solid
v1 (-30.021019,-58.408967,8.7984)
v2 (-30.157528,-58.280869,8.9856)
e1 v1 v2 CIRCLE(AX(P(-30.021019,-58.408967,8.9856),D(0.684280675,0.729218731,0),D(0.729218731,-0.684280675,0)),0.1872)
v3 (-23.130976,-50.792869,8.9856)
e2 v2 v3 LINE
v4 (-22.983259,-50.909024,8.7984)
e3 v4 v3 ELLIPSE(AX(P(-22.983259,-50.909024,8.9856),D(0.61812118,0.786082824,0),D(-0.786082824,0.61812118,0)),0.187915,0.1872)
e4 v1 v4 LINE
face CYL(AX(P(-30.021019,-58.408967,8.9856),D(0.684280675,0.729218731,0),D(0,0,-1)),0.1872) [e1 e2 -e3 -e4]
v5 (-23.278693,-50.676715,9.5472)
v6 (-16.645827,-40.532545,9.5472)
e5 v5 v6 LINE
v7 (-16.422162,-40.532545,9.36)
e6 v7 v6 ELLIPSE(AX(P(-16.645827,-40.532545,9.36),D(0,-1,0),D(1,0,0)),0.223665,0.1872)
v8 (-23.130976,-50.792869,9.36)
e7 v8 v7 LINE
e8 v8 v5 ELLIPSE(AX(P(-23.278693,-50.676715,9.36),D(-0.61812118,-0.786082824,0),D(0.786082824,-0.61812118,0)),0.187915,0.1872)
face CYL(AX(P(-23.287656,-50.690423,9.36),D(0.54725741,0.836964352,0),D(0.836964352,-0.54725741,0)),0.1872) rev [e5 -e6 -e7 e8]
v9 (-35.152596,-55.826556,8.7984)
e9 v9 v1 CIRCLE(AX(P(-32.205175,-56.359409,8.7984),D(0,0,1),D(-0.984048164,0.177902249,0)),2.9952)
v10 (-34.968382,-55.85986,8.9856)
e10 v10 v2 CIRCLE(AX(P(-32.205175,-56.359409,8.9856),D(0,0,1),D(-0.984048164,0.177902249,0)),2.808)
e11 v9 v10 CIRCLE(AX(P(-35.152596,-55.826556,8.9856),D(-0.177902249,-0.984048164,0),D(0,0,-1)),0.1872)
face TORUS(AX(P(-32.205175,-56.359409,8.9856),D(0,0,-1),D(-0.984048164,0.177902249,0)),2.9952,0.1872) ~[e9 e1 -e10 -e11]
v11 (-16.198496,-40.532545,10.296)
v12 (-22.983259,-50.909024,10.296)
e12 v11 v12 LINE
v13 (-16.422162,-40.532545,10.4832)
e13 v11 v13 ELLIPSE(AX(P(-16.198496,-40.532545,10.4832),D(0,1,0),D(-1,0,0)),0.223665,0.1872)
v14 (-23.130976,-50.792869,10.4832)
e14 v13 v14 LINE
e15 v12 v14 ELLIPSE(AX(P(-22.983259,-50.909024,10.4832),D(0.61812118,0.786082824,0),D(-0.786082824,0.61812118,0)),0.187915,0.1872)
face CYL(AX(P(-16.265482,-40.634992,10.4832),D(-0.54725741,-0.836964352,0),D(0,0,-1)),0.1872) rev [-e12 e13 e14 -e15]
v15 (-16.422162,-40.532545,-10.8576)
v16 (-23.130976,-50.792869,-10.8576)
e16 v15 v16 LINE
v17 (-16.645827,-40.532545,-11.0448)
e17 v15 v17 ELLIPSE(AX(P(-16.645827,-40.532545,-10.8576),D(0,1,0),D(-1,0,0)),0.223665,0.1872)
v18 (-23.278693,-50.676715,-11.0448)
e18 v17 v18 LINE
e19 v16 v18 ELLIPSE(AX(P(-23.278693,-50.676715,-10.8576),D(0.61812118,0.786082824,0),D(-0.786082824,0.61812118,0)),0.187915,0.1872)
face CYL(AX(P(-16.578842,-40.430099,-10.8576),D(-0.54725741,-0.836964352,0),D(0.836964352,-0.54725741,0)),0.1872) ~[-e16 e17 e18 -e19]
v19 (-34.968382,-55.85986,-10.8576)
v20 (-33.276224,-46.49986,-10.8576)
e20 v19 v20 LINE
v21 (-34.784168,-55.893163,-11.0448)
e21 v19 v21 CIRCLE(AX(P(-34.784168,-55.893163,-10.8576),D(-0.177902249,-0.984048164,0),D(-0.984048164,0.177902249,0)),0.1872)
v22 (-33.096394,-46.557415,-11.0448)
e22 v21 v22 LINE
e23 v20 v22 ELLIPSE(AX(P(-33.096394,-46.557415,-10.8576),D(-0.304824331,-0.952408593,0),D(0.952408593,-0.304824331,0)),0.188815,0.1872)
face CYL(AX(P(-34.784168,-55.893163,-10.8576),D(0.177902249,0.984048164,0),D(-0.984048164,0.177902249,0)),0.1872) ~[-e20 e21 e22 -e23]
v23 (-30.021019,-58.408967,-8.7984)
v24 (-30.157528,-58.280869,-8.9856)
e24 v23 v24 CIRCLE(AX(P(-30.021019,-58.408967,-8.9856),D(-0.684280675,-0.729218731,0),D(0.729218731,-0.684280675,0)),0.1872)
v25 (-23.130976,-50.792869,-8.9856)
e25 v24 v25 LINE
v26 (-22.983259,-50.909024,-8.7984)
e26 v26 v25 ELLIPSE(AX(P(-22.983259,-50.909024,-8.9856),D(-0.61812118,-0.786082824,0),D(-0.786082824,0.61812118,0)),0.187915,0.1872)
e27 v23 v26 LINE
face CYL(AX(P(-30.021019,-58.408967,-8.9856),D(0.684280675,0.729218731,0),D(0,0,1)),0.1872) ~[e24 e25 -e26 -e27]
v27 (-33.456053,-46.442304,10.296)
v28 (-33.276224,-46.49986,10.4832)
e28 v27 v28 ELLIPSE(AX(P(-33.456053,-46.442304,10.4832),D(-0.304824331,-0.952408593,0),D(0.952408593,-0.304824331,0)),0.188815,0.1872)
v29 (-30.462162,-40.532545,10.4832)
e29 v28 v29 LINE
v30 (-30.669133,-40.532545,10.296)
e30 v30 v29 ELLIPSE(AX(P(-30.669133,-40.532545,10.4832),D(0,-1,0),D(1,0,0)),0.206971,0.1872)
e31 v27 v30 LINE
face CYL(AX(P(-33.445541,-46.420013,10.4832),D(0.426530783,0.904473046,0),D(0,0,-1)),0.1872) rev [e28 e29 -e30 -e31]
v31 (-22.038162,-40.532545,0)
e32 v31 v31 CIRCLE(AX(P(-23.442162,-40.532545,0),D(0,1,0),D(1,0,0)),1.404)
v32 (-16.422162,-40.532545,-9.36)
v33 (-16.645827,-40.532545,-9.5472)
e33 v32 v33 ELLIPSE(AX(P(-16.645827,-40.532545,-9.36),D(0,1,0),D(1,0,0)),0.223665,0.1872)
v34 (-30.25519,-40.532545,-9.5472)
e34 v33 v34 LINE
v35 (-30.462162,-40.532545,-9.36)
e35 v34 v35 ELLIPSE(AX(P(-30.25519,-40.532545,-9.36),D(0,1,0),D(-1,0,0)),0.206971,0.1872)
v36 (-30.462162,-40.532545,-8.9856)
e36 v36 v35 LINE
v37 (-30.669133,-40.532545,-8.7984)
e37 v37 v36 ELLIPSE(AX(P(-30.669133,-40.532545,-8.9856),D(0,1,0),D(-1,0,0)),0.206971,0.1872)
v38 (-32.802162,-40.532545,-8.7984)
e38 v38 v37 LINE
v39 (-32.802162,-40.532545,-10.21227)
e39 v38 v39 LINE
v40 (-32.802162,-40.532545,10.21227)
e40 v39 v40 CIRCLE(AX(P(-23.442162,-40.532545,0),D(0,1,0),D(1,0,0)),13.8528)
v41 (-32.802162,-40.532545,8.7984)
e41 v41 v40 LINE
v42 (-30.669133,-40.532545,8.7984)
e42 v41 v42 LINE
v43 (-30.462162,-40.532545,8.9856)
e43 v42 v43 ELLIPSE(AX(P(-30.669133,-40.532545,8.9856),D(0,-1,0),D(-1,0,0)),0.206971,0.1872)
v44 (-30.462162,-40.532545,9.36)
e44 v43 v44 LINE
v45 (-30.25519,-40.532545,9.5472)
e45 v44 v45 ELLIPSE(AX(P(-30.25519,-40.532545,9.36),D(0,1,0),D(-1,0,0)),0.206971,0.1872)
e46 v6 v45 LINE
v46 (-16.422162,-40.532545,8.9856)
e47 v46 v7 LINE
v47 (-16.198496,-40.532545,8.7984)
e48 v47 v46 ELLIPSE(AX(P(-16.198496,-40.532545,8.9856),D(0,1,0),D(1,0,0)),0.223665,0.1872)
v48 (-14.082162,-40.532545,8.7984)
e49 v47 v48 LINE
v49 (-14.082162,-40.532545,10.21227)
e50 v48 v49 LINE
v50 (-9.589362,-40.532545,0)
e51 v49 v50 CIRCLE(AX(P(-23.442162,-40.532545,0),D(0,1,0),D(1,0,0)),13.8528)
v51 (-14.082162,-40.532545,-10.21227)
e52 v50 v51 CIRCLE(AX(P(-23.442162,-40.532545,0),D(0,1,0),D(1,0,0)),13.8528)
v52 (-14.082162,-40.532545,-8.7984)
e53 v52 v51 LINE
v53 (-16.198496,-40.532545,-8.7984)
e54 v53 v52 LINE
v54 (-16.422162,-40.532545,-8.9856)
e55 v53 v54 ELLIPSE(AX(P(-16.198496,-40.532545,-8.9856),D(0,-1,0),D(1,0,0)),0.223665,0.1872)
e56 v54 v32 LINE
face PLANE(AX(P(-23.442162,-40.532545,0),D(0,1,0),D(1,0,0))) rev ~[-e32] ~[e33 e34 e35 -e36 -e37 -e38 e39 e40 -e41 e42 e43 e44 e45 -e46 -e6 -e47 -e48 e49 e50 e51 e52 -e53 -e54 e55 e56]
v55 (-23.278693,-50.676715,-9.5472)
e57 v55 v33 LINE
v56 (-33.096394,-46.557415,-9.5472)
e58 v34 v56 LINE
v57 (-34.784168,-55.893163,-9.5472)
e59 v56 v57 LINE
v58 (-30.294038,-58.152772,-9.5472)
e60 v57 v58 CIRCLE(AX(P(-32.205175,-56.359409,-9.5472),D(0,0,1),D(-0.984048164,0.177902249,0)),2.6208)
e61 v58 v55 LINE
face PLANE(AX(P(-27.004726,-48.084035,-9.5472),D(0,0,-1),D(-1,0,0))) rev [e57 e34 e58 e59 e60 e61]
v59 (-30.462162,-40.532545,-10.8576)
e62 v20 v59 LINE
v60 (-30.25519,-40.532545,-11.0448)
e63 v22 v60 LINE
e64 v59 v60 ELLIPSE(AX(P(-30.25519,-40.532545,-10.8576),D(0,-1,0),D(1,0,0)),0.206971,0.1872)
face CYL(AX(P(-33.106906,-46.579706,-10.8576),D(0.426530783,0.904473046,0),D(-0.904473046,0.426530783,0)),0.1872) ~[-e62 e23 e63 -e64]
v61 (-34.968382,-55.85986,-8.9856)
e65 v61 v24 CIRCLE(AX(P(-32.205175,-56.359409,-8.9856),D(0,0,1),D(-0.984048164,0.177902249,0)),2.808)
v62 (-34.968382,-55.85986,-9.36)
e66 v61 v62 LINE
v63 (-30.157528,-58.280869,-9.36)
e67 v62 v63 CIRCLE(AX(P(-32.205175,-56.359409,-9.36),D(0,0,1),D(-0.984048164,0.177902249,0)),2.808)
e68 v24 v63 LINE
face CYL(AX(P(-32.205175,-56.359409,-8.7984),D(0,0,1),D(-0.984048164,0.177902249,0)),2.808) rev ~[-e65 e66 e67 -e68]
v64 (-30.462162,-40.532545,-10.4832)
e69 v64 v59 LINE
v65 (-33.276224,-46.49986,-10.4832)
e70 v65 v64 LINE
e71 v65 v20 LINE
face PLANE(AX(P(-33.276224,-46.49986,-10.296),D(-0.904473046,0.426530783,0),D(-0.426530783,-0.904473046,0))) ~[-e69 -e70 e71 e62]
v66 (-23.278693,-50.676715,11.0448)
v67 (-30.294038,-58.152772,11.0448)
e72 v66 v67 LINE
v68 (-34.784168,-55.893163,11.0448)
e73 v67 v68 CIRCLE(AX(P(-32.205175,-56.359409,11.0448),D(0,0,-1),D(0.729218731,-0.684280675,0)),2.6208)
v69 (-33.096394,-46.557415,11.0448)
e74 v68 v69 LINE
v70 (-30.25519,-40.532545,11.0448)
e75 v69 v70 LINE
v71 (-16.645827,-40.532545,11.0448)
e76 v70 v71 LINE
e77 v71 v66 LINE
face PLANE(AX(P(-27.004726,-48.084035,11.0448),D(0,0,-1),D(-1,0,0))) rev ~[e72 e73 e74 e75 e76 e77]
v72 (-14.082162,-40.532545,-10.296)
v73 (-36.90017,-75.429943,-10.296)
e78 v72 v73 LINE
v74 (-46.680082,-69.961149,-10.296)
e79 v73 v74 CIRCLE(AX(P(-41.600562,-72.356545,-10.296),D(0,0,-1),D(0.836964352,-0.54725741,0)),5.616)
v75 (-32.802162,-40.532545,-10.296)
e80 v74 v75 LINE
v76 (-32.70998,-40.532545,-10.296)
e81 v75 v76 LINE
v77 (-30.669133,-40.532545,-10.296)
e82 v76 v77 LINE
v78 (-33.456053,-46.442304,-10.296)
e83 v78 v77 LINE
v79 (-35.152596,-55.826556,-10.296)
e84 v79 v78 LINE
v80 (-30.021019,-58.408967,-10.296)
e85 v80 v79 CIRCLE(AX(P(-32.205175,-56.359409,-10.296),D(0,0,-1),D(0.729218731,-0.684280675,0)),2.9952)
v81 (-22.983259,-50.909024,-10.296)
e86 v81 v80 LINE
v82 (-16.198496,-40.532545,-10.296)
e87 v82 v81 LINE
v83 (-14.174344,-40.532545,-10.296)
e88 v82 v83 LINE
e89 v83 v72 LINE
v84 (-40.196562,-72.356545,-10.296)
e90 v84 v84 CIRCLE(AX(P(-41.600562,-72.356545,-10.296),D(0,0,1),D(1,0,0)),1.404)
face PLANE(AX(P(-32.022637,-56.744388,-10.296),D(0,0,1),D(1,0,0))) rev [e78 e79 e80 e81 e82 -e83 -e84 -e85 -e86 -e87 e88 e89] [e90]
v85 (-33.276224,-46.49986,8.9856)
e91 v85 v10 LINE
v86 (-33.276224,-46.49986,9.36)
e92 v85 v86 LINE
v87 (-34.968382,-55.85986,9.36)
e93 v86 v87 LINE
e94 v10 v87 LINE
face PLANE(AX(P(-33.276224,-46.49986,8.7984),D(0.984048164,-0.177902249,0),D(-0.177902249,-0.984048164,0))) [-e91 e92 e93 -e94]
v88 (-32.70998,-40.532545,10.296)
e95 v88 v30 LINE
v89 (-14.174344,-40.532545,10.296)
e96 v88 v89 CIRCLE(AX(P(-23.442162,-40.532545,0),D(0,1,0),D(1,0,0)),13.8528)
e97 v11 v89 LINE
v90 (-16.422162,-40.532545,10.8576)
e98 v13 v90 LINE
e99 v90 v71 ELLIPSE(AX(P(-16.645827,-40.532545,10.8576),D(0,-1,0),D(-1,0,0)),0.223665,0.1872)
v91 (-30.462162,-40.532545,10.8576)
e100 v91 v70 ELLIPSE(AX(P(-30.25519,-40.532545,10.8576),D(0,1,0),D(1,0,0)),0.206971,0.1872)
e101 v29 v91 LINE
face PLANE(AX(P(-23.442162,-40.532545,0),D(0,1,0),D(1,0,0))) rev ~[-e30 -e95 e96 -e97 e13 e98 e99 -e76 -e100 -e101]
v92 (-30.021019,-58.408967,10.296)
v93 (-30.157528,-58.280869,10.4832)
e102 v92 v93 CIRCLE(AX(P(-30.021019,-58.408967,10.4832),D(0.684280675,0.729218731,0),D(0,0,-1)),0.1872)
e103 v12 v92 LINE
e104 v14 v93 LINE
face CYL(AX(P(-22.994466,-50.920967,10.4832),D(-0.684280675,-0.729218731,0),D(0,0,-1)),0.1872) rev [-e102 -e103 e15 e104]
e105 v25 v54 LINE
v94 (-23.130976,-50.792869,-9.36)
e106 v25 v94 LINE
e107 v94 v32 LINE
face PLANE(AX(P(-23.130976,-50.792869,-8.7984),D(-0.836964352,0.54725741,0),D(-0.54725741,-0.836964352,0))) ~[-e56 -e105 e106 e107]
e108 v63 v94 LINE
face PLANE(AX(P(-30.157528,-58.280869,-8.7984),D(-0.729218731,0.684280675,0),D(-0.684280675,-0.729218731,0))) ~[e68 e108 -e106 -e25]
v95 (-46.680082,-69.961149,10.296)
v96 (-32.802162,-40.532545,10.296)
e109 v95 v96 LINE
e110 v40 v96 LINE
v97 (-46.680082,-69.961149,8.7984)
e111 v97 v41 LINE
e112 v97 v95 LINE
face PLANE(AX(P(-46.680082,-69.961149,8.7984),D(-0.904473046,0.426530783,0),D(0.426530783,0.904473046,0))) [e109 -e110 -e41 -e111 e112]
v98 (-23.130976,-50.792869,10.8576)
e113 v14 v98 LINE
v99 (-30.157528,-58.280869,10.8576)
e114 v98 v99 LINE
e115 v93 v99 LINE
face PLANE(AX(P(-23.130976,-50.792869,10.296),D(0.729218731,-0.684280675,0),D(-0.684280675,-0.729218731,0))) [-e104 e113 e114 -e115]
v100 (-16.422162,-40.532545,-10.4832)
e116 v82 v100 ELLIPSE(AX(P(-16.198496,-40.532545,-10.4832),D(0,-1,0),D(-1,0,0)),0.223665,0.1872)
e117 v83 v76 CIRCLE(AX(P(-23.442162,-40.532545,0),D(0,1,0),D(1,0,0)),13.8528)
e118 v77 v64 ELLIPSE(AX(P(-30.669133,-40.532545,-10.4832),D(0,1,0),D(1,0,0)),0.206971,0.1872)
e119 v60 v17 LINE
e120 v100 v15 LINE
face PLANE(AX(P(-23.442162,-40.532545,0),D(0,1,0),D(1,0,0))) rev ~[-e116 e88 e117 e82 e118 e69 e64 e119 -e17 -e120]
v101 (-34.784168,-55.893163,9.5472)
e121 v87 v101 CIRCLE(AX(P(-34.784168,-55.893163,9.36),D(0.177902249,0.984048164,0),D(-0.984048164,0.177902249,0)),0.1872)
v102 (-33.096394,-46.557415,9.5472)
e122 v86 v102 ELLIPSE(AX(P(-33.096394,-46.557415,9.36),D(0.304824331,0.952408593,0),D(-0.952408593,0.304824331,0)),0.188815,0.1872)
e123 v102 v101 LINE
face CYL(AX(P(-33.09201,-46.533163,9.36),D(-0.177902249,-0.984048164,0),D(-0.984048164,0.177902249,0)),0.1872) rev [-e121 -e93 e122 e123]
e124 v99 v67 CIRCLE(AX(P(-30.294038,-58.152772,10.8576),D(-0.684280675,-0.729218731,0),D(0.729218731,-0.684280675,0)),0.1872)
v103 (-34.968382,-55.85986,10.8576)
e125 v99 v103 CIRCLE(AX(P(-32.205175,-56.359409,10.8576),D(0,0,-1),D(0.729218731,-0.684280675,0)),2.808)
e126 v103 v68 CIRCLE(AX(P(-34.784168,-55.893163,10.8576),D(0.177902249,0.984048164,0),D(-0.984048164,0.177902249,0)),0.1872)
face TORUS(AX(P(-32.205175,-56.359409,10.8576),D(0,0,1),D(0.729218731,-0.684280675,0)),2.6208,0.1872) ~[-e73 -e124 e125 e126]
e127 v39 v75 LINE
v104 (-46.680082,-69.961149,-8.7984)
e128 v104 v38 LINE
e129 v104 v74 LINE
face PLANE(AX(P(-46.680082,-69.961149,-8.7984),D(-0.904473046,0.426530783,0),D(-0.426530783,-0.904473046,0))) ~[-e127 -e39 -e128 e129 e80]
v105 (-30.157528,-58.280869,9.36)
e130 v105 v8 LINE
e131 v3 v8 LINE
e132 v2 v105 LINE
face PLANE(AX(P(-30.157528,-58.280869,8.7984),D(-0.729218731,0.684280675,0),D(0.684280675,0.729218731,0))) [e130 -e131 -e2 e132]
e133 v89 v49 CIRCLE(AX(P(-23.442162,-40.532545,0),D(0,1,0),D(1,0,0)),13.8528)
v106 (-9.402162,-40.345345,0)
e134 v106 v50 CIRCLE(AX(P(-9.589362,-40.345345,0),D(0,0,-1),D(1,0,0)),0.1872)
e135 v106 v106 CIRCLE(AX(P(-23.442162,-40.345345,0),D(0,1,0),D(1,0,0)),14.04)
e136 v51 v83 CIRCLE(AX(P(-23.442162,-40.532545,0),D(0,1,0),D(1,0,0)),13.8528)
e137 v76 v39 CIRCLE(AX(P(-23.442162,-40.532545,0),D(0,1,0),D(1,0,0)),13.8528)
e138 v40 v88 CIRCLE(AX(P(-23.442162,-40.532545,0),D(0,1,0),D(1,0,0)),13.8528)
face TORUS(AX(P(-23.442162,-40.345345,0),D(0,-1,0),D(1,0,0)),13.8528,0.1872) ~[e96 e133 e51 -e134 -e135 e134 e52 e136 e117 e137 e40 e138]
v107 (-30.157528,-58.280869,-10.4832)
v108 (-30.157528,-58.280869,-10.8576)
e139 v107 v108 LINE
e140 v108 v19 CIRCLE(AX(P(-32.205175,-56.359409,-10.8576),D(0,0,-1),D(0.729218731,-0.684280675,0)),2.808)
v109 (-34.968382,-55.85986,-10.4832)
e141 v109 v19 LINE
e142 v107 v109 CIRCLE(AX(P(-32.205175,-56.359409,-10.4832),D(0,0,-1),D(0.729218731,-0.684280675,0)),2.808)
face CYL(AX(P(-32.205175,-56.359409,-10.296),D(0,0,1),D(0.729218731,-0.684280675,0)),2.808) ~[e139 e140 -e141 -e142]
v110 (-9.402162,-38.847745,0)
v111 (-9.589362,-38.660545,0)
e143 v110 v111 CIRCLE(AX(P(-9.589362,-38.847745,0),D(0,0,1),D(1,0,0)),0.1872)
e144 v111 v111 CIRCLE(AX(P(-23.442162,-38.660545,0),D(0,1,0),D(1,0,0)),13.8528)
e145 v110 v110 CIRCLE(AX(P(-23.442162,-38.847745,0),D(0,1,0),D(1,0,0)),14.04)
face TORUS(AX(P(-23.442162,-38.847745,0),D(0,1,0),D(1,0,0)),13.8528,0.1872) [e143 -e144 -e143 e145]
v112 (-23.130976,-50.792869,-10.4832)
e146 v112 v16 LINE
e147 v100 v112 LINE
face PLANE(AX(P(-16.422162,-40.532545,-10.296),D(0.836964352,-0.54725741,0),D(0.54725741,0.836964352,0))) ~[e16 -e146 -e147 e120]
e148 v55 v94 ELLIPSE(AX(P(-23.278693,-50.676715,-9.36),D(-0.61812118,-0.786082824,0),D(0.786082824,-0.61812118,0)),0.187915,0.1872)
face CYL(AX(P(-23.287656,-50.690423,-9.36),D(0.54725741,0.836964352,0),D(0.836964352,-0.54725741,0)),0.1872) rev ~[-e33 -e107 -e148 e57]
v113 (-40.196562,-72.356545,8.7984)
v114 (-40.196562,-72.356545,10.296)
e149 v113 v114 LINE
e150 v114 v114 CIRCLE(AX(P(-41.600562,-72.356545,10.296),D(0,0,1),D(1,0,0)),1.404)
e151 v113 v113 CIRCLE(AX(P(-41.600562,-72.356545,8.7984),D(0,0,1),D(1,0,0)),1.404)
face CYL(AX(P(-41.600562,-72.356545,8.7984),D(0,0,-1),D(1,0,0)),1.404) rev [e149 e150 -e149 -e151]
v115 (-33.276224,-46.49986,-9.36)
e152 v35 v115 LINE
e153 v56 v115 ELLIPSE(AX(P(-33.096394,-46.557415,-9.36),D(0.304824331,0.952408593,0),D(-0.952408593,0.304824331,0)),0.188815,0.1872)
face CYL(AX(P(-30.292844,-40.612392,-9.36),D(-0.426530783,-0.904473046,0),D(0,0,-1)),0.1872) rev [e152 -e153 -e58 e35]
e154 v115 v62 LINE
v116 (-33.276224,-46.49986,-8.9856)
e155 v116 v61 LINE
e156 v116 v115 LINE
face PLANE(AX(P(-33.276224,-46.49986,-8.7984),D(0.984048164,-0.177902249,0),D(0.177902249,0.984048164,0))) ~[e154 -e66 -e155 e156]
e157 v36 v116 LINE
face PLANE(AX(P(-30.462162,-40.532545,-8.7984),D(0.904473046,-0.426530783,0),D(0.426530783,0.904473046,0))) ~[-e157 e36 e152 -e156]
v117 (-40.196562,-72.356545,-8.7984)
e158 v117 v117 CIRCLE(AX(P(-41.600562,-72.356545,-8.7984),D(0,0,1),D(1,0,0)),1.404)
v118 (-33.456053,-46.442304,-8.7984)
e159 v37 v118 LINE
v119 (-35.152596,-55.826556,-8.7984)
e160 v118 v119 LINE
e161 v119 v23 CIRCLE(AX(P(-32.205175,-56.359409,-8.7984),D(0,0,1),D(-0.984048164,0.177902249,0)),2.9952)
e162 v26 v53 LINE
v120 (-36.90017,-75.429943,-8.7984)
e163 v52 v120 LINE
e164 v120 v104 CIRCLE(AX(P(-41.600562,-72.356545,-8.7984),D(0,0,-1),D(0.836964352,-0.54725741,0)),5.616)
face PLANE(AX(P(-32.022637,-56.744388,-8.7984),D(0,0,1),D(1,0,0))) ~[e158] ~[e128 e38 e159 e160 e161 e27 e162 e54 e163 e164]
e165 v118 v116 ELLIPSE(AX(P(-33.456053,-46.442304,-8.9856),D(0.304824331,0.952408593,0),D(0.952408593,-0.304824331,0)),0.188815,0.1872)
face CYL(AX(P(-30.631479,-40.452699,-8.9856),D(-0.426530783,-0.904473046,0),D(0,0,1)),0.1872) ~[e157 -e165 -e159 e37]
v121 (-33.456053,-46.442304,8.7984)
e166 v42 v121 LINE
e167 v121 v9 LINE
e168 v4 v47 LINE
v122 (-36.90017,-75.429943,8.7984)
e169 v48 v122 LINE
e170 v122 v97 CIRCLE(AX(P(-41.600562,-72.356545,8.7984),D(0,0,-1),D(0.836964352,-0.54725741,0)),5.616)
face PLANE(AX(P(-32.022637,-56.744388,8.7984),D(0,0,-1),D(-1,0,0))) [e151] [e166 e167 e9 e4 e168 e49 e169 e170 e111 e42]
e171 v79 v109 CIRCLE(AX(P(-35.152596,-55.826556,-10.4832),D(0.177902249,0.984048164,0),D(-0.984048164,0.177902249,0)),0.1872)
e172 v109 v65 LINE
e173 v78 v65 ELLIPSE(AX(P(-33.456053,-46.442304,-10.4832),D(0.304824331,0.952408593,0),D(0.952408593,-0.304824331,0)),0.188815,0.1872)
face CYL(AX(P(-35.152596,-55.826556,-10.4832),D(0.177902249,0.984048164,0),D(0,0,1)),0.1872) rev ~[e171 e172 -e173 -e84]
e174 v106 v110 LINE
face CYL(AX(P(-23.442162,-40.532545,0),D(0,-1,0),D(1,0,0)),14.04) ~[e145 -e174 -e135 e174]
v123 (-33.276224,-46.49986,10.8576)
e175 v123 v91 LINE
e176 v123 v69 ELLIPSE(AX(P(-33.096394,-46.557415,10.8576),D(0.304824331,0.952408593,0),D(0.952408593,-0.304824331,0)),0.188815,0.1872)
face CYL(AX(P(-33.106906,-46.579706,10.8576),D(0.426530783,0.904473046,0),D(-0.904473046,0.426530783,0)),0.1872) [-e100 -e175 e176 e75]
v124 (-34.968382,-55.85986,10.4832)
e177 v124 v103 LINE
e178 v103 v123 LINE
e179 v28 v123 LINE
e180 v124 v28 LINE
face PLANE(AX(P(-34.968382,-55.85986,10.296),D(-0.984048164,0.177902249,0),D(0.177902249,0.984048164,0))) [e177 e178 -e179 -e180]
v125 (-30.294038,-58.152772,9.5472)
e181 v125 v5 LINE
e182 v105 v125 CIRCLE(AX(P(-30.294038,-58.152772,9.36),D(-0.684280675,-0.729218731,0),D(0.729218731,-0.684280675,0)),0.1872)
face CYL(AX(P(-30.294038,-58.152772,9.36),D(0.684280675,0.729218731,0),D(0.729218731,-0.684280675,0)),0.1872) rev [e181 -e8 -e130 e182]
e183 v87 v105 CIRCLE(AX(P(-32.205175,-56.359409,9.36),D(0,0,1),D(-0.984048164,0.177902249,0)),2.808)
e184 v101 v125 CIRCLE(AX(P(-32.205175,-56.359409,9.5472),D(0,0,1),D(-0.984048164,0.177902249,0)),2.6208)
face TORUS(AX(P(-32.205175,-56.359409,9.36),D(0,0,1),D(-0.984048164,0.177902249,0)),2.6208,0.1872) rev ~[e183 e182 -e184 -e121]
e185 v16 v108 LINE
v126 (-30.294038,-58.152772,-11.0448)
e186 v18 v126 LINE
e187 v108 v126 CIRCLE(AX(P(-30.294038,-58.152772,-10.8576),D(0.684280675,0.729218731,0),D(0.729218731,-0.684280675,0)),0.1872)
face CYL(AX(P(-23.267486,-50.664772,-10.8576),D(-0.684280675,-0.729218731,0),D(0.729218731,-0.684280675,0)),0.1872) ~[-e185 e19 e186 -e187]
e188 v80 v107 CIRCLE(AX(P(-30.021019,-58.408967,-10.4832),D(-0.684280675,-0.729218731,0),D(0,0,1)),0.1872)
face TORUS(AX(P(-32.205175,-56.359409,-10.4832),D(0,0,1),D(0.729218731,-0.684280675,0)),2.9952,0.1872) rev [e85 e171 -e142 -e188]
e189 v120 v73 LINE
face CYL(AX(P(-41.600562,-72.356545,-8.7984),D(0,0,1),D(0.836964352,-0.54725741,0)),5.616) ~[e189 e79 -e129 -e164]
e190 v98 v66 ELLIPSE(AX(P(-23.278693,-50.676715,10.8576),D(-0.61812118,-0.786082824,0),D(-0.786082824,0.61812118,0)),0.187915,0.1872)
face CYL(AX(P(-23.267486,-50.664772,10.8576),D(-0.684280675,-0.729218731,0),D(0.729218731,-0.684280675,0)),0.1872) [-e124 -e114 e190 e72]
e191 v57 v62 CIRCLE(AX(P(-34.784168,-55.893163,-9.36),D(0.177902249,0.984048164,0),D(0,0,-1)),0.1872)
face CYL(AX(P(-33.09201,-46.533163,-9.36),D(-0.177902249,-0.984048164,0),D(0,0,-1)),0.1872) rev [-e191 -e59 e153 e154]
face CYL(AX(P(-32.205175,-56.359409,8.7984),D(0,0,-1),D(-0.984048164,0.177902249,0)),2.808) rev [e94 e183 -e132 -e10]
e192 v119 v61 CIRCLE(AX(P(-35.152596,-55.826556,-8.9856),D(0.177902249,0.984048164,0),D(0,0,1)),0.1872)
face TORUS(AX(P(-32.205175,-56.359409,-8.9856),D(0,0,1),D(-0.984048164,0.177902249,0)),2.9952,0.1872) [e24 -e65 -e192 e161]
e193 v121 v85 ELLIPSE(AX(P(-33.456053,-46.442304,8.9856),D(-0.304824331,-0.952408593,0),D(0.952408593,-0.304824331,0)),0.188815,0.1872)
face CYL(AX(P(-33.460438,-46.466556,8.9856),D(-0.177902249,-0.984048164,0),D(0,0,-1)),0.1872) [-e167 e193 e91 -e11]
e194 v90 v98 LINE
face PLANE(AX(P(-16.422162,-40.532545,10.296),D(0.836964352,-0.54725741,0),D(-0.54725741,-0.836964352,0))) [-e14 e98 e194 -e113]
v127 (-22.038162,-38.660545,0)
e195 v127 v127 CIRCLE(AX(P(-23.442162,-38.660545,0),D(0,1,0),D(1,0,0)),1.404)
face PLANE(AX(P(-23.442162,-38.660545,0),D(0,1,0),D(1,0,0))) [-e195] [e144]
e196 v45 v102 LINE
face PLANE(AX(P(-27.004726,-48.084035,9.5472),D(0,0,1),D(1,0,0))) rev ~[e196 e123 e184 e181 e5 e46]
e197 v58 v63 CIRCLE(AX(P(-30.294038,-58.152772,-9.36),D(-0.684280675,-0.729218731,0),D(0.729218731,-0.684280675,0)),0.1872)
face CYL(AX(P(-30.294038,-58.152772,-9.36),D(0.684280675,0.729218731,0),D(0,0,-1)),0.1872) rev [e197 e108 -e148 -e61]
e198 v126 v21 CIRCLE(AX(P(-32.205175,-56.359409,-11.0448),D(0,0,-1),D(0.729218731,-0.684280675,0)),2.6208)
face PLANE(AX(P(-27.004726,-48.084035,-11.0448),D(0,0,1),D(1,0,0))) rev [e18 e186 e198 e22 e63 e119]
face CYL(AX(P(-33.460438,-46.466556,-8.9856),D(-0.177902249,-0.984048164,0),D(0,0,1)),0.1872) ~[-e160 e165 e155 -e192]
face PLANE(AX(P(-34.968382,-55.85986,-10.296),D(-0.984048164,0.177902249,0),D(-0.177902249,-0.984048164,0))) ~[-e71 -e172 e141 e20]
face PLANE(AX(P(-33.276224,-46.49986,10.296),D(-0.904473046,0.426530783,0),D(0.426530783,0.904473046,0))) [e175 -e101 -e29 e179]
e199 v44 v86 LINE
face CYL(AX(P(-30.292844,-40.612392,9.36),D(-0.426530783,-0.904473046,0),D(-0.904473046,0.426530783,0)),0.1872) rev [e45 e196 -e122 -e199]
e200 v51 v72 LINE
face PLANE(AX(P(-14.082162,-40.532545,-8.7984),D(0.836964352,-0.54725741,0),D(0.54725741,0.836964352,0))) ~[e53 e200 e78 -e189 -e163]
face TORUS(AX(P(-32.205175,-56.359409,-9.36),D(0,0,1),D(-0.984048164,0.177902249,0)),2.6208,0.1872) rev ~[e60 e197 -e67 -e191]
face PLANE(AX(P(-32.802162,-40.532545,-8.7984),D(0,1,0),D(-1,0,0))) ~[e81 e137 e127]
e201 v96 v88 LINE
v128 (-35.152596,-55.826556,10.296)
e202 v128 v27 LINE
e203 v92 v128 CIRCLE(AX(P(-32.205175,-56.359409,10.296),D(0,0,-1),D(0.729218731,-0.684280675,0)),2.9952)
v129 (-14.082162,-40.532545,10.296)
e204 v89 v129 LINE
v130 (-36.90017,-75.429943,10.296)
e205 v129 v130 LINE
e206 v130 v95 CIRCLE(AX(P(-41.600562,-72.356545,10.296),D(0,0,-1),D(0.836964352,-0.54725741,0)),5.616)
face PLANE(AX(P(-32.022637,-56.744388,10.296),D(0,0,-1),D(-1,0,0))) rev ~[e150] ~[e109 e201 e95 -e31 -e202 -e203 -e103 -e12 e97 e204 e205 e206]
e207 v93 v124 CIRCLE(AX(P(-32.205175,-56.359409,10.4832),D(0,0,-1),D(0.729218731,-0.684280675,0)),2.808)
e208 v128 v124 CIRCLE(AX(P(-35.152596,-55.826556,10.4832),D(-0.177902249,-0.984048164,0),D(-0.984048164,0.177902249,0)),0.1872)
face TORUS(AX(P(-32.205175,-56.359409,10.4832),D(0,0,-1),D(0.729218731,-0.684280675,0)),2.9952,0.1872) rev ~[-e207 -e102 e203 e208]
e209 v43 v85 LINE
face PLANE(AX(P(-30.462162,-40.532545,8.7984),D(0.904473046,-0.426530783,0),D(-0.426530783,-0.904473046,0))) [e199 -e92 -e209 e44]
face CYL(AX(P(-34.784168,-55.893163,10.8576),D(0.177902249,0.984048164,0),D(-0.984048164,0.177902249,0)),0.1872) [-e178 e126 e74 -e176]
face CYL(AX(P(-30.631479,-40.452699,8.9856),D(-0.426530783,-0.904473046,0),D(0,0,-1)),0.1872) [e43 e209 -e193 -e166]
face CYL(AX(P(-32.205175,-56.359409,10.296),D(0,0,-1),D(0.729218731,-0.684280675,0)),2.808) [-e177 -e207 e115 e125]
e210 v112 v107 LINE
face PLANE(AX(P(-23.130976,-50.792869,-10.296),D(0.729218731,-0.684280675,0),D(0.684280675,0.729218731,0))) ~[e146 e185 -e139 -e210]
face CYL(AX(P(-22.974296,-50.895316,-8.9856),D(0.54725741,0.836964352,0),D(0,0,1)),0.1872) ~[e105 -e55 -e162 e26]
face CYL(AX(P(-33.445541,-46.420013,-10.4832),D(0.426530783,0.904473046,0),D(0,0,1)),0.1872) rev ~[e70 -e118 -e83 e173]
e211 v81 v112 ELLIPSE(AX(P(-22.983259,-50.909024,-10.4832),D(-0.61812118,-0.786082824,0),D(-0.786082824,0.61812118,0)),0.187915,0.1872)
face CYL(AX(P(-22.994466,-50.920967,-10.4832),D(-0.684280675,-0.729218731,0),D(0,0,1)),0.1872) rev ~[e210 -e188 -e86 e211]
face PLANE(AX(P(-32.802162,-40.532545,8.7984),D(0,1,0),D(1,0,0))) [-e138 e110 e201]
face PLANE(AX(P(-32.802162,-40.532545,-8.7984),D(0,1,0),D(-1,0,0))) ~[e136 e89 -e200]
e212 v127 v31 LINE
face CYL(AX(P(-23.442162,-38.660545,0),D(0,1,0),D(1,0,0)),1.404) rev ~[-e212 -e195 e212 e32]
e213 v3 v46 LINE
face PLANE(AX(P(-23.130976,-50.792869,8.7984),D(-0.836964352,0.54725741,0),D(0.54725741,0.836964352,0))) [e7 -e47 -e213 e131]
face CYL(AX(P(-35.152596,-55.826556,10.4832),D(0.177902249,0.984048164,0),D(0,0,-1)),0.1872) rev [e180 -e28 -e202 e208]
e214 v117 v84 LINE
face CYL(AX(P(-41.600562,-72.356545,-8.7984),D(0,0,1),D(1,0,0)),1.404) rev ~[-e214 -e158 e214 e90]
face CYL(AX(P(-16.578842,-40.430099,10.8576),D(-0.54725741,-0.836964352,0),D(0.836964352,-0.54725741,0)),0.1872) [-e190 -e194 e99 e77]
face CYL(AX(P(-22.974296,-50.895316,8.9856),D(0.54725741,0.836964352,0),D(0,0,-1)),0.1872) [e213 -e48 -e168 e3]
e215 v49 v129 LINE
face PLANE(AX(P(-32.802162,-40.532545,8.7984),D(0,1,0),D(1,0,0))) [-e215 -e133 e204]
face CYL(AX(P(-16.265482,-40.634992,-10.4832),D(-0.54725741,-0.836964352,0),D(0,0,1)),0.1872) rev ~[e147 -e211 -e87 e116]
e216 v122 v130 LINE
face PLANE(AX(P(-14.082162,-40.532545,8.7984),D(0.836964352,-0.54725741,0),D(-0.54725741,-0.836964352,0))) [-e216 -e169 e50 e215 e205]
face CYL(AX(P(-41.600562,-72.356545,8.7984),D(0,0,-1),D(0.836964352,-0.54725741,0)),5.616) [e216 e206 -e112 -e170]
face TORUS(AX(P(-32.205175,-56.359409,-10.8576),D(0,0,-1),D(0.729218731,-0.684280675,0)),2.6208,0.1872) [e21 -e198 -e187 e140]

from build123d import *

# Parameters (mm, degrees)
SKETCH1_R            = 75
BOSS_EXTRUDE1_DEPTH  = 10
FILLET1_R            = 1
SKETCH2_R            = 7.5
BOSS_EXTRUDE2_DEPTH  = 8
BOSS_EXTRUDE3_DEPTH  = 4
FILLET2_R            = 1
CUT_EXTRUDE1_DEPTH   = 4
FILLET3_R            = 1
FILLET2_OF_MIRROR1_R = 1
FILLET3_OF_MIRROR1_R = 1
SKETCH5_R            = 7.5
CUT_EXTRUDE2_DEPTH   = 211
SCALE1_SCALE         = 0.18
SCALE2_SCALE         = 1.04


with BuildPart() as part:
    # Sketch1 → Boss-Extrude1 (new body)
    with BuildSketch(Plane(origin=(0, 0, 0), x_dir=(1, 0, 0), z_dir=(0, 1, 0))):
        Circle(SKETCH1_R)
    extrude(amount=BOSS_EXTRUDE1_DEPTH)

    # Fillet1
    fillet1_edges = [part.edges().sort_by_distance(p)[0] for p in [
        (-75, 0, 0),
        (-75, 10, 0),
    ]]
    fillet(fillet1_edges, radius=FILLET1_R)

    # Sketch2 → Boss-Extrude2 (add)
    with BuildSketch(Plane.XY.offset(47)):
        with BuildLine():
            Line((0, 0), (50, 0))
            Line((50, 0), (-71.891069435, -186.417722312))
            ThreePointArc((-71.891069435, -186.417722312), (-111.641881564, -196.184256802), (-124.134191379, -157.204076501))
            Line((-124.134191379, -157.204076501), (-50, 0))
            Line((-50, 0), (0, 0))
        make_face()
        with Locations((-97, -170)):
            Circle(SKETCH2_R, mode=Mode.SUBTRACT)
    boss_extrude2 = extrude(amount=BOSS_EXTRUDE2_DEPTH)

    # Sketch3 → Boss-Extrude3 (add)
    with BuildSketch(Plane.XY.offset(55)):
        with BuildLine():
            Line((37.5, 0), (1.66231791, -54.809422045))
            Line((1.66231791, -54.809422045), (-35.87268475, -94.809422045))
            ThreePointArc((-35.87268475, -94.809422045), (-53.553867963, -97.944214465), (-61.57168818, -81.876678179))
            Line((-61.57168818, -81.876678179), (-52.532382195, -31.876678179))
            Line((-52.532382195, -31.876678179), (-37.5, 0))
            Line((-37.5, 0), (37.5, 0))
        make_face()
    boss_extrude3 = extrude(amount=BOSS_EXTRUDE3_DEPTH)

    # Fillet2
    fillet2_edges = [part.edges().sort_by_distance(p)[0] for p in [
        (-45.016191098, -15.938339089, 55),
        (-57.052035188, -56.876678179, 55),
        (-53.553867963, -97.944214465, 55),
        (-17.10518342, -74.809422045, 55),
        (19.581158955, -27.404711022, 55),
        (-45.016191098, -15.938339089, 59),
        (-57.052035188, -56.876678179, 59),
        (-53.553867963, -97.944214465, 59),
        (-17.10518342, -74.809422045, 59),
        (19.581158955, -27.404711022, 59),
    ]]
    fillet(fillet2_edges, radius=FILLET2_R)

    # Sketch4 → Cut-Extrude1 (cut)
    with BuildSketch(Plane(origin=(0, 0, 47), x_dir=(-1, 0, 0), z_dir=(0, 0, -1))):
        with BuildLine():
            Line((37.5, 0), (52.532382195, -31.876678179))
            Line((52.532382195, -31.876678179), (61.57168818, -81.876678179))
            ThreePointArc((61.57168818, -81.876678179), (53.553867963, -97.944214465), (35.87268475, -94.809422045))
            Line((35.87268475, -94.809422045), (-1.66231791, -54.809422045))
            Line((-1.66231791, -54.809422045), (-37.5, 0))
            Line((-37.5, 0), (37.5, 0))
        make_face()
    cut_extrude1 = extrude(amount=-CUT_EXTRUDE1_DEPTH, mode=Mode.SUBTRACT)

    # Fillet3
    fillet3_edges = [part.edges().sort_by_distance(p)[0] for p in [
        (-45.016191098, -15.938339089, 51),
        (-57.052035188, -56.876678179, 51),
        (-53.553867963, -97.944214465, 51),
        (-17.10518342, -74.809422045, 51),
        (19.581158955, -27.404711022, 51),
        (19.581158955, -27.404711022, 47),
        (-17.10518342, -74.809422045, 47),
        (-53.553867963, -97.944214465, 47),
        (-57.052035188, -56.876678179, 47),
        (-45.016191098, -15.938339089, 47),
    ]]
    fillet(fillet3_edges, radius=FILLET3_R)

    # Mirror1: Boss-Extrude2, Boss-Extrude3, Cut-Extrude1 across plane
    add(boss_extrude2.mirror(Plane.XY))
    add(boss_extrude3.mirror(Plane.XY))
    add(cut_extrude1.mirror(Plane.XY), mode=Mode.SUBTRACT)

    # Fillet2 of Mirror1
    fillet2_of_mirror1_edges = [part.edges().sort_by_distance(p)[0] for p in [
        (-45.016191098, -15.938339089, -55),
        (-57.052035188, -56.876678179, -55),
        (-53.553867963, -97.944214465, -55),
        (-17.10518342, -74.809422045, -55),
        (19.581158955, -27.404711022, -55),
        (-45.016191098, -15.938339089, -59),
        (-57.052035188, -56.876678179, -59),
        (-53.553867963, -97.944214465, -59),
        (-17.10518342, -74.809422045, -59),
        (19.581158955, -27.404711022, -59),
    ]]
    fillet(fillet2_of_mirror1_edges, radius=FILLET2_OF_MIRROR1_R)

    # Fillet3 of Mirror1
    fillet3_of_mirror1_edges = [part.edges().sort_by_distance(p)[0] for p in [
        (-45.016191098, -15.938339089, -51),
        (-57.052035188, -56.876678179, -51),
        (-53.553867963, -97.944214465, -51),
        (-17.10518342, -74.809422045, -51),
        (19.581158955, -27.404711022, -51),
        (19.581158955, -27.404711022, -47),
        (-17.10518342, -74.809422045, -47),
        (-53.553867963, -97.944214465, -47),
        (-57.052035188, -56.876678179, -47),
        (-45.016191098, -15.938339089, -47),
    ]]
    fillet(fillet3_of_mirror1_edges, radius=FILLET3_OF_MIRROR1_R)

    # Sketch5 → Cut-Extrude2 (cut, through all)
    with BuildSketch(Plane(origin=(0, 10, 0), x_dir=(1, 0, 0), z_dir=(0, 1, 0))):
        Circle(SKETCH5_R)
    extrude(amount=-CUT_EXTRUDE2_DEPTH, mode=Mode.SUBTRACT)


with BuildPart() as part_1:
    # Scale1: scaled about (-28.841242381, -49.867797095, 0)
    add(part.part.scale(SCALE1_SCALE).moved(Location((-23.649818752, -40.891593618, 0))))


with BuildPart() as part_2:
    # Scale2: scaled about (-28.841242381, -49.867797095, 0)
    add(part_1.part.scale(SCALE2_SCALE).moved(Location((1.153649695, 1.994711884, 0))))


solid = part_2.part
